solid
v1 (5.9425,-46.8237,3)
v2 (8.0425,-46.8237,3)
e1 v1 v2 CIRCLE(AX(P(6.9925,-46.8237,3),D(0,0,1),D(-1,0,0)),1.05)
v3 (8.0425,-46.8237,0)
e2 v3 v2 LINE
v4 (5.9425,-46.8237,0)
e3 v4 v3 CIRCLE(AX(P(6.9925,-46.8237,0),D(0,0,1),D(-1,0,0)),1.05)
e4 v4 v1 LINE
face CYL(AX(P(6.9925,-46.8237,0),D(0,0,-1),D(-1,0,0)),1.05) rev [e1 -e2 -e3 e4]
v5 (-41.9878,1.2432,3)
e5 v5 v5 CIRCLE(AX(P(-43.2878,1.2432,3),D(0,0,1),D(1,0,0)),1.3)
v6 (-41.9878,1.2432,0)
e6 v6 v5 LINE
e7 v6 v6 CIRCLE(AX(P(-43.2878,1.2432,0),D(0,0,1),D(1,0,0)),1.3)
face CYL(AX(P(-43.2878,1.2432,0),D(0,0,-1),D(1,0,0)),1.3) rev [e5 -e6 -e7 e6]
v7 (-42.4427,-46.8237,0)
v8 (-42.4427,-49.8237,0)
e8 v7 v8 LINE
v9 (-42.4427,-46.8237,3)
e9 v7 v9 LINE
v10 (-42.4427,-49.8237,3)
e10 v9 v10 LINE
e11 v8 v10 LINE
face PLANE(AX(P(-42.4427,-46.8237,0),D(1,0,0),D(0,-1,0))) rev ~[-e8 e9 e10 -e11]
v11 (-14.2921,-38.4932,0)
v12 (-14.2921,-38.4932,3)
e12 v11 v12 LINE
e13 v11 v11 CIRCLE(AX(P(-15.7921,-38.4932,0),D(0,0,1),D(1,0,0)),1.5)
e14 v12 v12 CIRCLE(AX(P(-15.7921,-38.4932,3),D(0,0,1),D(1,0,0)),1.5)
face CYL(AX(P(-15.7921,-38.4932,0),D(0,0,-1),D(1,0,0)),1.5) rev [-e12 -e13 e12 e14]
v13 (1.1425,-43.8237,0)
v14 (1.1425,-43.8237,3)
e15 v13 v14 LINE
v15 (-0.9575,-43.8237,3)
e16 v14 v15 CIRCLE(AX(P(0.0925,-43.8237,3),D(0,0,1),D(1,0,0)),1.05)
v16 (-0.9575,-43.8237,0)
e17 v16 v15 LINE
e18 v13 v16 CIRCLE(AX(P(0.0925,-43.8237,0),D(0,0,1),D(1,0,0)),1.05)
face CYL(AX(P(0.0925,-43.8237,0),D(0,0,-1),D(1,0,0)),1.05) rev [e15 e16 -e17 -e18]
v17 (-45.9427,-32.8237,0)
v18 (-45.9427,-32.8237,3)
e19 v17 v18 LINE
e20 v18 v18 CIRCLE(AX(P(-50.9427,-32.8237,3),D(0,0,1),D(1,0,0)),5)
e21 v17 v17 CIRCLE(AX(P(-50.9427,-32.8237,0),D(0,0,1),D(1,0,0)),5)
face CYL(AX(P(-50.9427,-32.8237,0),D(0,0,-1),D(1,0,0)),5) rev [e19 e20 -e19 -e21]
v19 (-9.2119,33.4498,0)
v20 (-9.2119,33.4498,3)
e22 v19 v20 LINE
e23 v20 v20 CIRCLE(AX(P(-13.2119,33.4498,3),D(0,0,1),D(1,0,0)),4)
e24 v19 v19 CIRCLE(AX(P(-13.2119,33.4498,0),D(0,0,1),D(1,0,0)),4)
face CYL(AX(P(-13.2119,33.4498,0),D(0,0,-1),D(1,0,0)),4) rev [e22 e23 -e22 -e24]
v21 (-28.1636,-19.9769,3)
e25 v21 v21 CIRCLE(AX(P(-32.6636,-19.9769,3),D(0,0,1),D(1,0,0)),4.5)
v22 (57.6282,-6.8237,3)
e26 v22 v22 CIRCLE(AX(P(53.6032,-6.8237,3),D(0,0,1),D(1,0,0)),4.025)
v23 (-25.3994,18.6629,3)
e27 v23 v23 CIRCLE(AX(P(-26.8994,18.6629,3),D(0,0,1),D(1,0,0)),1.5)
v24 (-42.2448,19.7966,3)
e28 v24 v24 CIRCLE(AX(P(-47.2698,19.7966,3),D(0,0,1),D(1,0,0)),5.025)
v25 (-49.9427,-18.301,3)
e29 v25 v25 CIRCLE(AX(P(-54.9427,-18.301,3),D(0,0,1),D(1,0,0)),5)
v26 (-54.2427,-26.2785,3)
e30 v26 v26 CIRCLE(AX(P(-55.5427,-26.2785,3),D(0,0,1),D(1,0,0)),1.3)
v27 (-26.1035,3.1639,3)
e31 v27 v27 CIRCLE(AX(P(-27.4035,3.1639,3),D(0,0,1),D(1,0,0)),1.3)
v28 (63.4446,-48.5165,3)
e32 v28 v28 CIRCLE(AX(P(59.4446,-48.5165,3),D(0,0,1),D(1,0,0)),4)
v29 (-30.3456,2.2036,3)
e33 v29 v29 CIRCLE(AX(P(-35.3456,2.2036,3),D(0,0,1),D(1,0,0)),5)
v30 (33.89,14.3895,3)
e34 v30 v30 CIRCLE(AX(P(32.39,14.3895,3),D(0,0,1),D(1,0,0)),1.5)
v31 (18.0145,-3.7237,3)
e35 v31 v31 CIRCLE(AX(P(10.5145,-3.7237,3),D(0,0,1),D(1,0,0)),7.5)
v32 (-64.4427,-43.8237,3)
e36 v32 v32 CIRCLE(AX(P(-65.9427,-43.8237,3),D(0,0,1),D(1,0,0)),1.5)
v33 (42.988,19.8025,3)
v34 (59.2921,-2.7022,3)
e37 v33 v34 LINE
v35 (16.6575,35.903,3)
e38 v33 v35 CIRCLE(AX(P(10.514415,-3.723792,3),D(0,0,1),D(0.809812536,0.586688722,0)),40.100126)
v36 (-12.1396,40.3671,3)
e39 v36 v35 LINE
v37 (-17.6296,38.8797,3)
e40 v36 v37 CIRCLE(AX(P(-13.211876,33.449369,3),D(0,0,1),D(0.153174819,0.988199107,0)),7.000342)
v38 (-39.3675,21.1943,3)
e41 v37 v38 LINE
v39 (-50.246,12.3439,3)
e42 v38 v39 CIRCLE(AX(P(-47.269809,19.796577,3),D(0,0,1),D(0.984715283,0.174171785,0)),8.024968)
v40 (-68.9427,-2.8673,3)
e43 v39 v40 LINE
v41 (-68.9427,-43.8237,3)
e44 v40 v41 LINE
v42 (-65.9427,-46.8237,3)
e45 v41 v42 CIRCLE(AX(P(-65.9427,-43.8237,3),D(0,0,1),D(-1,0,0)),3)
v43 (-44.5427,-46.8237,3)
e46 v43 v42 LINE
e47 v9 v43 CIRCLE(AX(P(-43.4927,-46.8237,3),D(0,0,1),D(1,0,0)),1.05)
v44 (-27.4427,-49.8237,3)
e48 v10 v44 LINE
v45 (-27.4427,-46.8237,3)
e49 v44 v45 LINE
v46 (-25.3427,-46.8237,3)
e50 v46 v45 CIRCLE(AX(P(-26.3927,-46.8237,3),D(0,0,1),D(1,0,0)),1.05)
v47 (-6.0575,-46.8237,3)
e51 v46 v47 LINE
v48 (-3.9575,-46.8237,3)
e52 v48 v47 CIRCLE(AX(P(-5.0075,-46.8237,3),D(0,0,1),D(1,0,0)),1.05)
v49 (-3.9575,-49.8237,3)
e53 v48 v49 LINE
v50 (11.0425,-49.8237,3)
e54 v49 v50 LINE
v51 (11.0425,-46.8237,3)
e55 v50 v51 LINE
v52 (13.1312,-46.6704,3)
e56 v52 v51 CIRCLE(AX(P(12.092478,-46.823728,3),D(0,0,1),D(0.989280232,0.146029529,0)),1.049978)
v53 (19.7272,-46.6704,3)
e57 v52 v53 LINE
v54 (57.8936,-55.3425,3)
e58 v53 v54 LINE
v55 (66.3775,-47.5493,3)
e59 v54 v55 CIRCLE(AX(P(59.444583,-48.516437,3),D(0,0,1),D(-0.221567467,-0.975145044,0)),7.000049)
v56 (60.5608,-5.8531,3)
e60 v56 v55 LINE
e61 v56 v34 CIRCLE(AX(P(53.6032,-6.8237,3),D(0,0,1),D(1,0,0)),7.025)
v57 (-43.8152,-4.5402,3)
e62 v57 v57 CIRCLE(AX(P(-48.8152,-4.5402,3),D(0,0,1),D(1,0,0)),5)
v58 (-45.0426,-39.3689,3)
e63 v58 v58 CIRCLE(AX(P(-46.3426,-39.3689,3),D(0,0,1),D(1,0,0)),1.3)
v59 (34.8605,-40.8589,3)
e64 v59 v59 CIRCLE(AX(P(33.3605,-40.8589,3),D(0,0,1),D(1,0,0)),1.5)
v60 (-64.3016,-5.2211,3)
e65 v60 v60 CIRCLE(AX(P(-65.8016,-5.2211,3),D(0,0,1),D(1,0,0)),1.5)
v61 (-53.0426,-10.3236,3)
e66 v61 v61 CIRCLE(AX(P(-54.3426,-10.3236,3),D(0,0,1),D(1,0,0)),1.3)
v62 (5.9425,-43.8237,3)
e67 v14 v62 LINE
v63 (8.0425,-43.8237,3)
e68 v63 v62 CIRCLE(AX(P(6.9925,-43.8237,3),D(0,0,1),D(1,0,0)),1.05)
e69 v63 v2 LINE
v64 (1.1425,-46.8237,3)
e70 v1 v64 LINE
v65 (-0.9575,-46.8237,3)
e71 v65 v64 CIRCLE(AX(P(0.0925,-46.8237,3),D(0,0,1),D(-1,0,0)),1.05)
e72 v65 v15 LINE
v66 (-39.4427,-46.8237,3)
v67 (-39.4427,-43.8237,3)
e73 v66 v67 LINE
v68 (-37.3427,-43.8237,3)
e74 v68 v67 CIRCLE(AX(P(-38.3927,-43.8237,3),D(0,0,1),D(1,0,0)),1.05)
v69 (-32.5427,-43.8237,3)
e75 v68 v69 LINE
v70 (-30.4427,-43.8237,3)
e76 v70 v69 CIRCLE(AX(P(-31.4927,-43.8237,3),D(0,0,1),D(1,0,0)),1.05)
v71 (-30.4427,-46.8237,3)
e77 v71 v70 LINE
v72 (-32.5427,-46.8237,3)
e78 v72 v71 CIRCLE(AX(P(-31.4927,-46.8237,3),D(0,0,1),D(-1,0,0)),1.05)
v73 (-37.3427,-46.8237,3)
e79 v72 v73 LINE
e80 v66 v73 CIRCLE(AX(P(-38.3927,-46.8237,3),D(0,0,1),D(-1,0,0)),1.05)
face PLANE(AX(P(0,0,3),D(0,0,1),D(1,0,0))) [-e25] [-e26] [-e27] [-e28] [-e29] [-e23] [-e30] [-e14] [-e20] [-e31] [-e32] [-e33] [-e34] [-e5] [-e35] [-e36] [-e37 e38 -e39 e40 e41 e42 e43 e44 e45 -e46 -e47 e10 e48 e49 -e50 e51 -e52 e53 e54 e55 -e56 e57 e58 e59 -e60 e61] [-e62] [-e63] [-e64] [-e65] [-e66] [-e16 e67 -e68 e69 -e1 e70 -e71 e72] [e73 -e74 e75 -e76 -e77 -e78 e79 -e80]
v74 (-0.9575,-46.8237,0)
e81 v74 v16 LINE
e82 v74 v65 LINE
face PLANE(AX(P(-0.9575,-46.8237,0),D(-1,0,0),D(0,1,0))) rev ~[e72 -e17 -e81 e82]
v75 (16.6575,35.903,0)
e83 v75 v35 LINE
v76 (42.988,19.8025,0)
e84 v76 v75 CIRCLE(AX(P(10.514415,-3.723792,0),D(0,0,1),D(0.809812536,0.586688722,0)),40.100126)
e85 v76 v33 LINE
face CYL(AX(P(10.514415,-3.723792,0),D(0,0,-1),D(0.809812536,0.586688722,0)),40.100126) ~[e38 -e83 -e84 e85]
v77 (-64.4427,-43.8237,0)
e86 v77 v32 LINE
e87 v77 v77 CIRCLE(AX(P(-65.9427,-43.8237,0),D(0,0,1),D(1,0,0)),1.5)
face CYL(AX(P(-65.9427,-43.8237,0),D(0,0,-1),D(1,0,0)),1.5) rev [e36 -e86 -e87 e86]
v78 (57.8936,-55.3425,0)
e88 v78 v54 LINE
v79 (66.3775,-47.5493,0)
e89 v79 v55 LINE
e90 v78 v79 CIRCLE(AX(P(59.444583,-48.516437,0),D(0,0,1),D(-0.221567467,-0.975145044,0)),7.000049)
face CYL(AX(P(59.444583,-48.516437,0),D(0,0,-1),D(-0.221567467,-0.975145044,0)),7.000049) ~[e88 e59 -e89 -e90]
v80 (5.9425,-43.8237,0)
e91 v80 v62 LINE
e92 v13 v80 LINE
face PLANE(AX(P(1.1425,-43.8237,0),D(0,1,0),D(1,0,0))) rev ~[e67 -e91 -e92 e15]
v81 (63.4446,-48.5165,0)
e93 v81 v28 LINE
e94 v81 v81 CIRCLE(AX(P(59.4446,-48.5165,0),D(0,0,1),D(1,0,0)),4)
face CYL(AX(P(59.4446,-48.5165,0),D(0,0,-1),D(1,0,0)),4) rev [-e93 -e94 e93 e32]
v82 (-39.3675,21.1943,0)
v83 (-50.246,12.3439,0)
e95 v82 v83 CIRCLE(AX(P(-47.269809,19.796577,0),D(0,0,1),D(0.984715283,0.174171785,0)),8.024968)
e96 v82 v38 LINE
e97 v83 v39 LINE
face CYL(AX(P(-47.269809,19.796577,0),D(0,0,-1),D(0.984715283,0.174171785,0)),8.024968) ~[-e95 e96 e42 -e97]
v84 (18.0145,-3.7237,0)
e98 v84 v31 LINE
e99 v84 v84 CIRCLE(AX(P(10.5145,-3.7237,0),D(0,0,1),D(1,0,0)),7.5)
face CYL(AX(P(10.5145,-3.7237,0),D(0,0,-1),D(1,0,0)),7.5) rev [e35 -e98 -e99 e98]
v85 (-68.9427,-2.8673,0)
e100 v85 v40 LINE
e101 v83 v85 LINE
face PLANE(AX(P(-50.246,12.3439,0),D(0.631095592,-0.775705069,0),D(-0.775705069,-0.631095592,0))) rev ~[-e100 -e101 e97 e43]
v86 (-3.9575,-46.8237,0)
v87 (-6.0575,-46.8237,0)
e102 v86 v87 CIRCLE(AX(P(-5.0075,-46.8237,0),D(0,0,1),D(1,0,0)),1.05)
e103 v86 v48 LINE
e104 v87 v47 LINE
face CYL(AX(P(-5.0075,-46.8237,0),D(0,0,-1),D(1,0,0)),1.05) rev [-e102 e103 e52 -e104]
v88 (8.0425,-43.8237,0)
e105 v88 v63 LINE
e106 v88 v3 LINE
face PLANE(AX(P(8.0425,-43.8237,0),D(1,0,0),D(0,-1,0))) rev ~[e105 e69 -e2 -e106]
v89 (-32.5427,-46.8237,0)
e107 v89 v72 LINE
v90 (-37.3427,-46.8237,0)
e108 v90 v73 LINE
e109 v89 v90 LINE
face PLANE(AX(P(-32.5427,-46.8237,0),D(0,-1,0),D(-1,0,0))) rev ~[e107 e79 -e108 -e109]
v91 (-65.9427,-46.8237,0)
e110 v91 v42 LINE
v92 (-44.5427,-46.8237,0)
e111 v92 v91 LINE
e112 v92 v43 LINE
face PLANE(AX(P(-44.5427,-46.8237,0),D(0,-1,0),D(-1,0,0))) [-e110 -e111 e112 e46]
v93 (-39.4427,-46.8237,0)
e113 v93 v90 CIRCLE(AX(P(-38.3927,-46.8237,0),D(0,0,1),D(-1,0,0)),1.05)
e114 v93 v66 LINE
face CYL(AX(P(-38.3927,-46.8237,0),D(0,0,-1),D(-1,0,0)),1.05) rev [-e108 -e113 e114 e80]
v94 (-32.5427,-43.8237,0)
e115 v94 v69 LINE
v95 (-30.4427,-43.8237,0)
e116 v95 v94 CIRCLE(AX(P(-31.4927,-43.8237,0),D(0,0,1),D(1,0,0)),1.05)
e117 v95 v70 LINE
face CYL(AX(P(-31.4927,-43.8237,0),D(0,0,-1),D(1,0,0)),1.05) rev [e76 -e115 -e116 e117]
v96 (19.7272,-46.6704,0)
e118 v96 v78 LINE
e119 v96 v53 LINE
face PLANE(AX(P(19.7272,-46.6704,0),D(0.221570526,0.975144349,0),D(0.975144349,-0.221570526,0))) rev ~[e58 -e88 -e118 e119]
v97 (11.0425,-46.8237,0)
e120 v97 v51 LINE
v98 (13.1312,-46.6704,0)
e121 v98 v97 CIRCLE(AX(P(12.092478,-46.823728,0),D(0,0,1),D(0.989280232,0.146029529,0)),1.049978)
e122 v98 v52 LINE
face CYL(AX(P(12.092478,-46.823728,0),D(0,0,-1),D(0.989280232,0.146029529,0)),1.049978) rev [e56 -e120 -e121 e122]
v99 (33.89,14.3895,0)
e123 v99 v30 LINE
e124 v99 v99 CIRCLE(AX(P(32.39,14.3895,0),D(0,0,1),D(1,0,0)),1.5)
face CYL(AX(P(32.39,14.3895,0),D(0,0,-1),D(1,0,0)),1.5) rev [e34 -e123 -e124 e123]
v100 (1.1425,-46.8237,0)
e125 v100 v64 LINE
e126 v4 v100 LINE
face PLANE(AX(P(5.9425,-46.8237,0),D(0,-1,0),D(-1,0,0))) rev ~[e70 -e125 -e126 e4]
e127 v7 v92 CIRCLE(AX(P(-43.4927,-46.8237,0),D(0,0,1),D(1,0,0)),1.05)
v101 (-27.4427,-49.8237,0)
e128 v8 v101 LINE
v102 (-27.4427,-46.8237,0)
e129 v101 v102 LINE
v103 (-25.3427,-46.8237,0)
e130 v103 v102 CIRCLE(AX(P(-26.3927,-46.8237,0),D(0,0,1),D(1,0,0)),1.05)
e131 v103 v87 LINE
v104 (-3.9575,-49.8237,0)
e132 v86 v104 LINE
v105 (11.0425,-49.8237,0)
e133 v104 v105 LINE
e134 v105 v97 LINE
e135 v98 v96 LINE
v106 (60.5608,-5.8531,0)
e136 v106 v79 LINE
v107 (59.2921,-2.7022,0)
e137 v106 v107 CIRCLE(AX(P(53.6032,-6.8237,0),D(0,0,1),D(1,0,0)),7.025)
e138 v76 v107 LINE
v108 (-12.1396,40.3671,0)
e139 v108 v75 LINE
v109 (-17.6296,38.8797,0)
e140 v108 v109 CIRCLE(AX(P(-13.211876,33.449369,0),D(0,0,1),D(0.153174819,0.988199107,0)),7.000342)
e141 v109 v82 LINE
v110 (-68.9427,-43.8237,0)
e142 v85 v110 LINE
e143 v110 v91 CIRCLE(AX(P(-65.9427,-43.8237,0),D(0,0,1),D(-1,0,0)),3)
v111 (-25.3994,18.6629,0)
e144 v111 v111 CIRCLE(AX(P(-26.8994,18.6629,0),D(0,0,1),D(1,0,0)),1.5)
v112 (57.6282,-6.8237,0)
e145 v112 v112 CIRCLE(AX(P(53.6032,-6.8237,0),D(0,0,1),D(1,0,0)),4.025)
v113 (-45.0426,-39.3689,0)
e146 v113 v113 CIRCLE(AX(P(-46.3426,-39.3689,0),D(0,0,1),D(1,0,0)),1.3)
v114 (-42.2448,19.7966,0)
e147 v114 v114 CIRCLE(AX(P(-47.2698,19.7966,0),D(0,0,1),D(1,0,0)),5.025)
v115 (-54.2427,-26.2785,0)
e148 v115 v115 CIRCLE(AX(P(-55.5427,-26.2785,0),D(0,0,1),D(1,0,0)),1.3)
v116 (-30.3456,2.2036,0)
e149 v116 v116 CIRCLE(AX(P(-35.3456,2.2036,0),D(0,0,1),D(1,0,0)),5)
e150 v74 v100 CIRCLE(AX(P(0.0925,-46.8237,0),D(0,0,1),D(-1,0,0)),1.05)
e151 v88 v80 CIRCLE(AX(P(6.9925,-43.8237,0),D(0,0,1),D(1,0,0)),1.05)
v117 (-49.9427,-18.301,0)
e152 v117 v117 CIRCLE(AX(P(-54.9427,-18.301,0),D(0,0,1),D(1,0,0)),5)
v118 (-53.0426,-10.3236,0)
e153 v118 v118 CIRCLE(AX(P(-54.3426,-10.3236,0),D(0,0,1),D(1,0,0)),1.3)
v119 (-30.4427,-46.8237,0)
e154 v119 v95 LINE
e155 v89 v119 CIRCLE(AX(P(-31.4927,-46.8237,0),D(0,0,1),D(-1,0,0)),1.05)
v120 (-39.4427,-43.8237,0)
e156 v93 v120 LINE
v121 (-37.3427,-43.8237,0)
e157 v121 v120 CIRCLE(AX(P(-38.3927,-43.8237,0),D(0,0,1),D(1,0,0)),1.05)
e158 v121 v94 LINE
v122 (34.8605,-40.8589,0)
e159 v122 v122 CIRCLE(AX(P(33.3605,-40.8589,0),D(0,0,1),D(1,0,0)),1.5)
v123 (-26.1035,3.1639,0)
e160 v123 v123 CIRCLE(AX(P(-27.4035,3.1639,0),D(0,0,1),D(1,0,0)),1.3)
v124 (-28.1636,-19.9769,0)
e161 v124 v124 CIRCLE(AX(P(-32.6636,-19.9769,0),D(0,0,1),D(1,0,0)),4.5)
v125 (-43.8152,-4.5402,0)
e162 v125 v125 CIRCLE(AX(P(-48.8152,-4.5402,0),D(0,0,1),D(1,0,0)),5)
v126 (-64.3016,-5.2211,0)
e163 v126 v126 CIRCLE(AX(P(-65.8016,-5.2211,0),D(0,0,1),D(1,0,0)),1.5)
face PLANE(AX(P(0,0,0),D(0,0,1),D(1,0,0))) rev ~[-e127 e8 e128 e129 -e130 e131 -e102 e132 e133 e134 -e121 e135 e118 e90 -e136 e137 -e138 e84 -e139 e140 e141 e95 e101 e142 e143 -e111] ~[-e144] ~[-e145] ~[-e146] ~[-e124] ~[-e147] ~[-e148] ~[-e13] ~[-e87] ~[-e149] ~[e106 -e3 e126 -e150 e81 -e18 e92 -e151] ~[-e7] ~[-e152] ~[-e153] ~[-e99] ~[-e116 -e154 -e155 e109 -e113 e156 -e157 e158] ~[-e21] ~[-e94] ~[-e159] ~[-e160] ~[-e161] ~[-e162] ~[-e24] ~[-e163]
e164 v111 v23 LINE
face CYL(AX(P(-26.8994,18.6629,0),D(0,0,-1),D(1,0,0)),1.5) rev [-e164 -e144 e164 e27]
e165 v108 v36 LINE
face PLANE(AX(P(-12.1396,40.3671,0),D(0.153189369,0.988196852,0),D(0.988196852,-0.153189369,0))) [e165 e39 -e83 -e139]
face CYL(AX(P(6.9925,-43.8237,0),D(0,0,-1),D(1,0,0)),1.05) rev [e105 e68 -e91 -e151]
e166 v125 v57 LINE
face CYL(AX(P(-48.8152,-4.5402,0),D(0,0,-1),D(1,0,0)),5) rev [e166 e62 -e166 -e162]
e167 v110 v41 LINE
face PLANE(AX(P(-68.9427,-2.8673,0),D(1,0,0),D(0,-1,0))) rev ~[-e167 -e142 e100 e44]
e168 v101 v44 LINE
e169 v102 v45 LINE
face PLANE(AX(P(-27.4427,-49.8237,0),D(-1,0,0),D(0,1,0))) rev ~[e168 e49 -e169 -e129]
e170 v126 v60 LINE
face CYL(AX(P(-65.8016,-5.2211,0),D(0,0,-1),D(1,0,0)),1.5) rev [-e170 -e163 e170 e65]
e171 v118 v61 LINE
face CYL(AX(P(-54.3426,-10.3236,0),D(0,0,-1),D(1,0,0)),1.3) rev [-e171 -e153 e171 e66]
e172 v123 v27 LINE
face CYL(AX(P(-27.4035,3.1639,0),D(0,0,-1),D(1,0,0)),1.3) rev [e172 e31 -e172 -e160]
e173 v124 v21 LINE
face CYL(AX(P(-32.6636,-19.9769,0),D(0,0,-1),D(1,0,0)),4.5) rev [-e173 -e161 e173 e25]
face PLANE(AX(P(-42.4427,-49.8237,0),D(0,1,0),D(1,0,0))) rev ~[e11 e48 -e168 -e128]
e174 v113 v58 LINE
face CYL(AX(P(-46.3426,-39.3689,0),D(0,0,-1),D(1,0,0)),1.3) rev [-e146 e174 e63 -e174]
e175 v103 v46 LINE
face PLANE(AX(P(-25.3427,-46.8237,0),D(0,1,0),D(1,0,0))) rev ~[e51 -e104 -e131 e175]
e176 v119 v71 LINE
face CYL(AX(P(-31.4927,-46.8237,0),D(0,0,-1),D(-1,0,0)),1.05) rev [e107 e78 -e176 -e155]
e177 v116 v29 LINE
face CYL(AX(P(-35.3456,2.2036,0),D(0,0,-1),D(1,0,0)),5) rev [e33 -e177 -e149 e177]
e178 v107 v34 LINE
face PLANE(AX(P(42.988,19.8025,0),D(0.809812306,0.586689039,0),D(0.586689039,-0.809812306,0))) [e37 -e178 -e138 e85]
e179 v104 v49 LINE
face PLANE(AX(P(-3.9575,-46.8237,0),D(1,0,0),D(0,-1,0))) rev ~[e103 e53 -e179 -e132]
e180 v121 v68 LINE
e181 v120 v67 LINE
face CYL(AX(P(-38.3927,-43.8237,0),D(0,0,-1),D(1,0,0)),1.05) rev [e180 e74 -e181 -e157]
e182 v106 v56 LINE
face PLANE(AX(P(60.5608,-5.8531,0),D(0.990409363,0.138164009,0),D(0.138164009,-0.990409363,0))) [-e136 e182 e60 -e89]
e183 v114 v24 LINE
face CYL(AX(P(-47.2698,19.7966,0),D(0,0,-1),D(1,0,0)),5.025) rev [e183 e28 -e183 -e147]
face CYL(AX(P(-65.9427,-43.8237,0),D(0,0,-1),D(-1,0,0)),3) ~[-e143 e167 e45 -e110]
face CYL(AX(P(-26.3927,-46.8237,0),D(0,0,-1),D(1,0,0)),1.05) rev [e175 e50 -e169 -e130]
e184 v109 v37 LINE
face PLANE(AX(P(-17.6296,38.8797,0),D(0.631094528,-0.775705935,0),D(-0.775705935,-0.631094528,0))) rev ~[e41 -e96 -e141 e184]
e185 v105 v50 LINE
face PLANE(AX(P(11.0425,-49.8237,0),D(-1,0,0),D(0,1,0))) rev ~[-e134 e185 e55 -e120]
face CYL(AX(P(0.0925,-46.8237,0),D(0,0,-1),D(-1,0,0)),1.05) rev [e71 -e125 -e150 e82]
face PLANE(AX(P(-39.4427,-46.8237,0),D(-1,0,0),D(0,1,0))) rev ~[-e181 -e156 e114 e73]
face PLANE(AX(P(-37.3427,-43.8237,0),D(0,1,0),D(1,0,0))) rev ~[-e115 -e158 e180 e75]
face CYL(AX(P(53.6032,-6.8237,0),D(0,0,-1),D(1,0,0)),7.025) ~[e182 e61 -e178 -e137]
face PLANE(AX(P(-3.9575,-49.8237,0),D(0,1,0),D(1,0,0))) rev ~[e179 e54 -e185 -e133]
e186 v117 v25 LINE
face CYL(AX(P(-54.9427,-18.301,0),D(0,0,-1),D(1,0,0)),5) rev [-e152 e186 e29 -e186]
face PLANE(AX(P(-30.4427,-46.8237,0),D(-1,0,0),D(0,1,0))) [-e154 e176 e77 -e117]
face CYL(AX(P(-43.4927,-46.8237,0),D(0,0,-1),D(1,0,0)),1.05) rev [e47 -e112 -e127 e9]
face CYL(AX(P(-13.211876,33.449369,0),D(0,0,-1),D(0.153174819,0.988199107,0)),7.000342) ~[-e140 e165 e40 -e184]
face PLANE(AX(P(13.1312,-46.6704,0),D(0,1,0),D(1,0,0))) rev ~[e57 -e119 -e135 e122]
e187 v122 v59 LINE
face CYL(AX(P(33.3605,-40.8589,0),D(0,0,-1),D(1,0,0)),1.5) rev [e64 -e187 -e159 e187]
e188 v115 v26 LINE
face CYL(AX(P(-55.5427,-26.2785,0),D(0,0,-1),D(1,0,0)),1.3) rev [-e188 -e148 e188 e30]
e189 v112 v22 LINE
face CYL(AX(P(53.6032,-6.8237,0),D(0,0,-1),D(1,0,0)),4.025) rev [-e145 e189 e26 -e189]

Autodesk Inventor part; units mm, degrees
ref_plane "YZ Plane" through (0, 0, 0) normal (1, 0, 0) x (0, 1, 0)
ref_plane "XZ Plane" through (0, 0, 0) normal (0, 1, 0) x (-1, 0, 0)
ref_plane "XY Plane" through (0, 0, 0) normal (0, 0, 1) x (1, 0, 0)
sketch "スケッチ1" plane through (0, 0, 0) normal (0, 0, 1) x (1, 0, 0)
  circle A0 centre (-22.9427, -32.8237) radius 14
  circle A1 centre (5.0573, -32.8237) radius 14
  line L0 (-174.7493, -46.8237) -> (173.7138, -46.8237)
  line L1 (-168.9427, 85.6498) -> (-168.9427, -143.3841)
  line L2 (181.0573, 70.1234) -> (181.0573, -176.3692)
  line L3 (-68.9427, 93.6608) -> (-68.9427, -144.401)
  circle A2 centre (-138.9427, -9.8237) radius 4.5
  circle A3 centre (-32.6636, -19.9769) radius 20.05
  circle A4 centre (-50.9427, -32.8237) radius 14
  circle A5 centre (-48.8152, -4.5402) radius 14
  circle A6 centre (-32.6636, -19.9769) radius 9.0359
  circle A7 centre (10.5145, -3.7237) radius 37.1
  circle A8 centre (-48.8152, -4.5402) radius 2.292
  circle A9 centre (-48.8152, -4.5402) radius 2.792
  circle A10 centre (10.5145, -3.7237) radius 39.1
  circle A11 centre (53.6032, -6.8237) radius 33.1
  circle A12 centre (53.6032, -6.8237) radius 35.1
  line L4 (-120.6193, -91.8237) -> (100.4081, -91.8237)
  circle A13 centre (10.5145, -3.7237) radius 10.1
  circle A14 centre (10.5145, -3.7237) radius 12.1
  circle A15 centre (-32.6636, -19.9769) radius 20.55
  line L5 (53.6032, -6.8237) -> (32.39, 14.3895)
  line L6 (53.6032, -6.8237) -> (97.5006, -47.7262)
  line L7 (97.5006, -47.7262) -> (57.2048, -10.293)
  line L8 (57.2048, -10.293) -> (32.39, 14.3895)
  circle A16 centre (32.39, 14.3895) radius 1.5
  circle A17 centre (32.39, 14.3895) radius 4.5
  circle A18 centre (-54.9427, -18.301) radius 14
  circle A19 centre (-35.3456, 2.2036) radius 14
  circle A20 centre (-50.9427, -32.8237) radius 5
  circle A21 centre (-54.9427, -18.301) radius 5
  circle A22 centre (-48.8152, -4.5402) radius 5
  circle A23 centre (-35.3456, 2.2036) radius 5
  circle A24 centre (-32.6636, -19.9769) radius 22.342 construction
  line L9 (-43.4189, -43.5289) -> (-55.5427, -26.2785) construction
  line L10 (-55.5427, -26.2785) -> (-54.3426, -10.3236) construction
  line L11 (-54.3426, -10.3236) -> (-43.2878, 1.2432) construction
  line L12 (-43.2878, 1.2432) -> (-22.1495, 3.7992) construction
  circle A25 centre (-35.3456, 2.2036) radius 8
  circle A26 centre (-48.8152, -4.5402) radius 8
  circle A27 centre (-54.9427, -18.301) radius 8
  circle A28 centre (-50.9427, -32.8237) radius 8
  circle A29 centre (-46.3426, -39.3689) radius 1.3
  circle A30 centre (-55.5427, -26.2785) radius 1.3
  circle A31 centre (-54.3426, -10.3236) radius 1.3
  circle A32 centre (-43.2878, 1.2432) radius 1.3
  circle A33 centre (-27.4035, 3.1639) radius 1.3
  circle A34 centre (-35.3456, 2.2036) radius 5.5 construction
  line L13 (-89.4402, -42.8237) -> (131.6872, -42.8237)
  circle A35 centre (53.6032, -6.8237) radius 3
  circle A36 centre (97.5006, -47.7262) radius 7.025
  circle A37 centre (97.5006, -47.7262) radius 10.025
  circle A38 centre (57.2048, -10.293) radius 5
  line L14 (60.2589, -6.3341) -> (103.6241, -39.7887)
  line L15 (90.035, -54.4169) -> (53.4813, -13.63)
  point P0 (0, 0)
  point P1 (0, 0)
  point P2 (0, 0)
  dimension "d0" = 350
  dimension "d1" = 100
  dimension "d2" = 30
  dimension "d3" = 40.1
  dimension "d4" = 28
  dimension "d5" = 28
  dimension "d6" = 22.342
  dimension "d7" = 22.342
  dimension "d9" = 74.2
  dimension "d10" = 0.5
  dimension "d11" = 2
  dimension "d13" = 66.2
  dimension "d14" = 2
  dimension "d15" = 45
  dimension "d16" = 85
  dimension "d17" = 2
  dimension "d18" = 0.5
  dimension "d19" = 30
  dimension "d20" = 60
  dimension "d21" = 55
  dimension "d22" = 35
  dimension "d23" = 45
  dimension "d24" = 3
  dimension "d25" = 3
  dimension "d26" = 28
  dimension "d27" = 28
  dimension "d28" = 22.342
  dimension "d29" = 22.342
  dimension "d30" = 10
  dimension "d31" = 10
  dimension "d32" = 10
  dimension "d33" = 10
  dimension "d34" = 3
  dimension "d35" = 3
  dimension "d36" = 3
  dimension "d37" = 3
  dimension "d38" = 2.6
  dimension "d39" = 2.6
  dimension "d40" = 2.6
  dimension "d41" = 2.6
  dimension "d42" = 2.6
  dimension "d43" = 11
  dimension "d44" = 20.2
  dimension "d45" = 4
  dimension "d46" = 6
  dimension "d48" = 46.1359
  dimension "d60" = 14.05
  dimension "d61" = 3
  dimension "d62" = 10
sketch "スケッチ2" plane through (0, 0, 0) normal (0, 0, 1) x (1, 0, 0)
  circle A0 centre (-47.2698, 19.7966) radius 5.025
  circle A1 centre (-64.0841, -20.5754) radius 1.5
  line L0 (-60.2999, -17.1214) -> (-60.1004, -16.784)
  arc A2 (-59.1969, -16.2937) -> (-60.1004, -16.784) centre (-59.2396, -17.2928) ccw
  arc A3 (-59.1969, -16.2937) -> (-55.0576, -13.6829) centre (-59.0136, -11.9976) ccw
  arc A4 (-54.227, -13.0788) -> (-55.0576, -13.6829) centre (-54.1376, -14.0748) ccw
  arc A5 (-54.227, -13.0788) -> (-49.4577, -10.9346) centre (-54.9427, -5.1109) ccw
  arc A6 (-48.2633, -10.8017) -> (-49.4577, -10.9346) centre (-48.7721, -11.6625) ccw
  line L1 (-48.2633, -10.8017) -> (-43.4665, -13.6371)
  arc A7 (-43.0029, -14.7312) -> (-43.4665, -13.6371) centre (-43.9754, -14.498) ccw
  arc A8 (-43.0029, -14.7312) -> (-42.2107, -20.2197) centre (-35.7096, -16.4799) ccw
  arc A9 (-42.346, -21.4001) -> (-42.2107, -20.2197) centre (-43.0775, -20.7183) ccw
  line L2 (-42.346, -21.4001) -> (-46.1452, -25.4763)
  arc A10 (-47.3285, -25.6866) -> (-46.1452, -25.4763) centre (-46.8767, -24.7945) ccw
  arc A11 (-47.3285, -25.6866) -> (-52.5094, -24.9786) centre (-50.9427, -32.8237) ccw
  arc A12 (-53.4769, -24.634) -> (-52.5094, -24.9786) centre (-52.7053, -23.998) ccw
  arc A13 (-53.4769, -24.634) -> (-58.1856, -23.3003) centre (-56.7949, -27.3692) ccw
  arc A14 (-59.1909, -23.0856) -> (-58.1856, -23.3003) centre (-58.509, -22.354) ccw
  line L3 (-59.1909, -23.0856) -> (-59.4776, -22.8183)
  arc A15 (-59.7573, -21.812) -> (-59.4776, -22.8183) centre (-58.7958, -22.0868) ccw
  arc A16 (-59.7573, -21.812) -> (-60.2836, -18.1658) centre (-64.0841, -20.5754) ccw
  arc A17 (-60.2999, -17.1214) -> (-60.2836, -18.1658) centre (-59.439, -17.6303) ccw
  line L4 (-59.6973, -41.892) -> (-56.6977, -39.4479)
  arc A18 (-55.4968, -39.4009) -> (-56.6977, -39.4479) centre (-56.066, -40.2231) ccw
  arc A19 (-55.4968, -39.4009) -> (-49.3759, -40.6688) centre (-50.9427, -32.8237) ccw
  arc A20 (-48.4085, -41.0133) -> (-49.3759, -40.6688) centre (-49.1801, -41.6494) ccw
  arc A21 (-48.4085, -41.0133) -> (-47.3017, -41.966) centre (-45.0905, -38.2782) ccw
  arc A22 (-47.816, -43.8237) -> (-47.3017, -41.966) centre (-47.816, -42.8237) ccw
  line L5 (-47.816, -43.8237) -> (-59.0344, -43.8237)
  arc A23 (-60.0177, -43.0055) -> (-59.0344, -43.8237) centre (-59.0344, -42.8237) ccw
  arc A24 (-60.0177, -43.0055) -> (-60.0433, -42.8775) centre (-64.4427, -43.8237) ccw
  arc A25 (-59.6973, -41.892) -> (-60.0433, -42.8775) centre (-59.0656, -42.6672) ccw
  circle A26 centre (-64.4427, 8.987) radius 1.5
  line L6 (-18.7729, 14.1262) -> (-22.731, 11.1451)
  arc A27 (-23.9329, 11.144) -> (-22.731, 11.1451) centre (-23.3326, 11.9439) ccw
  arc A28 (-23.9329, 11.144) -> (-33.4471, 11.2103) centre (-28.7348, 4.7455) ccw
  arc A29 (-34.4699, 11.1174) -> (-33.4471, 11.2103) centre (-34.0361, 12.0184) ccw
  arc A30 (-34.4699, 11.1174) -> (-39.3039, 10.3536) centre (-36.335, 7.243) ccw
  arc A31 (-40.3065, 10.1269) -> (-39.3039, 10.3536) centre (-39.9943, 11.077) ccw
  line L7 (-40.3065, 10.1269) -> (-40.6789, 10.2493)
  arc A32 (-41.3548, 11.0456) -> (-40.6789, 10.2493) centre (-40.3667, 11.1993) ccw
  arc A33 (-41.3548, 11.0456) -> (-41.5389, 11.7966) centre (-45.8013, 10.3537) ccw
  arc A34 (-40.8249, 13.0896) -> (-41.5389, 11.7966) centre (-40.5917, 12.1172) ccw
  line L8 (-40.8249, 13.0896) -> (-19.5219, 18.1985)
  arc A35 (-18.3194, 16.9804) -> (-19.5219, 18.1985) centre (-19.2887, 17.226) ccw
  arc A36 (-18.3194, 16.9804) -> (-18.3895, 15.0977) centre (-13.9572, 15.8752) ccw
  arc A37 (-18.7729, 14.1262) -> (-18.3895, 15.0977) centre (-19.3745, 14.925) ccw
  circle A38 centre (-13.9572, 15.8752) radius 1.5
  circle A39 centre (21.0458, -37.8866) radius 1.5
  circle A40 centre (30.9378, -6.8237) radius 4.025
  circle A41 centre (-45.0905, -38.2782) radius 1.3
  circle A42 centre (-21.1346, 2.248) radius 1.3
  circle A43 centre (-50.8718, 1.7759) radius 1.3
  arc A44 (-24.4868, -35.136) -> (-25.456, -34.9678) centre (-25.7365, -39.459) ccw
  arc A45 (-26.3109, -34.3678) -> (-25.456, -34.9678) centre (-25.3936, -33.9697) ccw
  line L9 (-26.3109, -34.3678) -> (-31.0992, -23.3351)
  arc A46 (-30.8322, -22.1773) -> (-31.0992, -23.3351) centre (-30.1819, -22.937) ccw
  arc A47 (-30.8322, -22.1773) -> (-28.4693, -18.4362) centre (-35.7096, -16.4799) ccw
  arc A48 (-27.5385, -17.6976) -> (-28.4693, -18.4362) centre (-27.5039, -18.697) ccw
  line L10 (-27.5385, -17.6976) -> (-14.2955, -17.2386)
  arc A49 (-13.2929, -17.9869) -> (-14.2955, -17.2386) centre (-14.2608, -18.238) ccw
  arc A50 (-13.2929, -17.9869) -> (-11.8048, -21.2653) centre (-3.1292, -15.3507) ccw
  arc A51 (-11.9016, -22.5127) -> (-11.8048, -21.2653) centre (-12.6311, -21.8286) ccw
  line L11 (-11.9016, -22.5127) -> (-23.4796, -34.8594)
  arc A52 (-24.4868, -35.136) -> (-23.4796, -34.8594) centre (-24.2091, -34.1754) ccw
  arc A53 (-29.2087, -36.5965) -> (-30.2266, -39.7574) centre (-25.7365, -39.459) ccw
  arc A54 (-31.2244, -40.8237) -> (-30.2266, -39.7574) centre (-31.2244, -39.8237) ccw
  line L12 (-31.2244, -40.8237) -> (-40.0208, -40.8237)
  arc A55 (-40.9773, -39.5321) -> (-40.0208, -40.8237) centre (-40.0208, -39.8237) ccw
  arc A56 (-40.9773, -39.5321) -> (-42.5952, -34.7762) centre (-45.0905, -38.2782) ccw
  arc A57 (-43.0069, -33.8353) -> (-42.5952, -34.7762) centre (-42.0149, -33.9618) ccw
  arc A58 (-43.0069, -33.8353) -> (-44.0772, -28.7169) centre (-50.9427, -32.8237) ccw
  arc A59 (-43.9506, -27.5218) -> (-44.0772, -28.7169) centre (-43.219, -28.2036) ccw
  line L13 (-43.9506, -27.5218) -> (-40.1514, -23.4456)
  arc A60 (-38.9834, -23.2277) -> (-40.1514, -23.4456) centre (-39.4199, -24.1274) ccw
  arc A61 (-38.9834, -23.2277) -> (-34.8793, -23.9338) centre (-35.7096, -16.4799) ccw
  arc A62 (-33.8512, -24.5295) -> (-34.8793, -23.9338) centre (-34.7685, -24.9276) ccw
  line L14 (-33.8512, -24.5295) -> (-29.0629, -35.5622)
  arc A63 (-29.2087, -36.5965) -> (-29.0629, -35.5622) centre (-29.9803, -35.9603) ccw
  circle A64 centre (-25.7365, -39.459) radius 1.5
  line L15 (2.7111, -40.8237) -> (-3.9575, -40.8237)
  line L16 (-3.9575, -40.8237) -> (-3.9575, -42.8237)
  arc A65 (-4.9575, -43.8237) -> (-3.9575, -42.8237) centre (-4.9575, -42.8237) ccw
  line L17 (-4.9575, -43.8237) -> (-21.3858, -43.8237)
  arc A66 (-22.1768, -42.2119) -> (-21.3858, -43.8237) centre (-21.3858, -42.8237) ccw
  arc A67 (-22.1768, -42.2119) -> (-21.5027, -37.9343) centre (-25.7365, -39.459) ccw
  arc A68 (-21.2913, -36.9115) -> (-21.5027, -37.9343) centre (-20.5618, -37.5955) ccw
  line L18 (-21.2913, -36.9115) -> (-9.7133, -24.5648)
  arc A69 (-8.4747, -24.3881) -> (-9.7133, -24.5648) centre (-8.9838, -25.2488) ccw
  arc A70 (-8.4747, -24.3881) -> (-1.928, -25.7817) centre (-3.1292, -15.3507) ccw
  arc A71 (-0.8688, -26.4475) -> (-1.928, -25.7817) centre (-1.8136, -26.7752) ccw
  line L19 (-0.8688, -26.4475) -> (3.6559, -39.4961)
  arc A72 (2.7111, -40.8237) -> (3.6559, -39.4961) centre (2.7111, -39.8237) ccw
  line L20 (-59.0898, 10.8835) -> (-51.3735, 11.4492)
  arc A73 (-50.3006, 10.434) -> (-51.3735, 11.4492) centre (-51.3004, 10.4518) ccw
  arc A74 (-50.3006, 10.434) -> (-49.6018, 7.944) centre (-45.8013, 10.3537) ccw
  arc A75 (-49.5855, 6.8997) -> (-49.6018, 7.944) centre (-50.4463, 7.4085) ccw
  line L21 (-49.5855, 6.8997) -> (-49.785, 6.5622)
  arc A76 (-50.6884, 6.072) -> (-49.785, 6.5622) centre (-50.6458, 7.0711) ccw
  arc A77 (-50.6884, 6.072) -> (-54.8278, 3.4611) centre (-50.8718, 1.7759) ccw
  arc A78 (-55.6583, 2.8571) -> (-54.8278, 3.4611) centre (-55.7478, 3.853) ccw
  arc A79 (-55.6583, 2.8571) -> (-57.3945, 2.5042) centre (-54.9427, -5.1109) ccw
  arc A80 (-58.5302, 2.8972) -> (-57.3945, 2.5042) centre (-57.7009, 3.456) ccw
  line L22 (-58.5302, 2.8972) -> (-60.4611, 5.7626)
  arc A81 (-60.5065, 6.8061) -> (-60.4611, 5.7626) centre (-59.6318, 6.3214) ccw
  arc A82 (-60.5065, 6.8061) -> (-60.0032, 9.7227) centre (-64.4427, 8.987) ccw
  arc A83 (-59.0898, 10.8835) -> (-60.0032, 9.7227) centre (-59.0167, 9.8861) ccw
  line L23 (-41.6154, 7.3992) -> (-41.243, 7.2769)
  arc A84 (-40.5703, 6.4997) -> (-41.243, 7.2769) centre (-41.5552, 6.3268) ccw
  arc A85 (-40.5703, 6.4997) -> (-37.1316, 3.0174) centre (-36.335, 7.243) ccw
  arc A86 (-36.3633, 2.3359) -> (-37.1316, 3.0174) centre (-37.3169, 2.0347) ccw
  arc A87 (-36.3633, 2.3359) -> (-33.2452, -1.8618) centre (-28.7348, 4.7455) ccw
  arc A88 (-32.8589, -2.9999) -> (-33.2452, -1.8618) centre (-33.809, -2.6878) ccw
  line L24 (-32.8589, -2.9999) -> (-34.5985, -8.2936)
  arc A89 (-35.5675, -8.9812) -> (-34.5985, -8.2936) centre (-35.5485, -7.9814) ccw
  arc A90 (-35.5675, -8.9812) -> (-40.7579, -10.9333) centre (-35.7096, -16.4799) ccw
  arc A91 (-41.9399, -11.0546) -> (-40.7579, -10.9333) centre (-41.431, -10.1938) ccw
  line L25 (-41.9399, -11.0546) -> (-46.7367, -8.2191)
  arc A92 (-47.1961, -7.1086) -> (-46.7367, -8.2191) centre (-46.2278, -7.3583) ccw
  arc A93 (-47.1961, -7.1086) -> (-47.6169, -1.8964) centre (-54.9427, -5.1109) ccw
  arc A94 (-47.4881, -0.8775) -> (-47.6169, -1.8964) centre (-46.7012, -1.4946) ccw
  arc A95 (-47.4881, -0.8775) -> (-47.1963, 4.0077) centre (-50.8718, 1.7759) ccw
  arc A96 (-47.2024, 5.0356) -> (-47.1963, 4.0077) centre (-46.3416, 4.5268) ccw
  line L26 (-47.2024, 5.0356) -> (-47.0029, 5.3731)
  arc A97 (-46.0801, 5.8623) -> (-47.0029, 5.3731) centre (-46.1421, 4.8642) ccw
  arc A98 (-46.0801, 5.8623) -> (-42.6319, 7.1591) centre (-45.8013, 10.3537) ccw
  arc A99 (-41.6154, 7.3992) -> (-42.6319, 7.1591) centre (-41.9276, 6.4492) ccw
  circle A100 centre (-45.8013, 10.3537) radius 1.5
  arc A101 (-63.8052, -16.084) -> (-64.7866, -16.1306) centre (-64.0841, -20.5754) ccw
  arc A102 (-65.9427, -15.1428) -> (-64.7866, -16.1306) centre (-64.9427, -15.1428) ccw
  line L27 (-65.9427, -15.1428) -> (-65.9427, 3.5098)
  arc A103 (-64.8518, 4.5056) -> (-65.9427, 3.5098) centre (-64.9427, 3.5098) ccw
  arc A104 (-64.8518, 4.5056) -> (-63.899, 4.52) centre (-64.4427, 8.987) ccw
  arc A105 (-62.9489, 4.0861) -> (-63.899, 4.52) centre (-63.7782, 3.5273) ccw
  line L28 (-62.9489, 4.0861) -> (-61.0181, 1.2208)
  arc A106 (-61.0802, 0.0205) -> (-61.0181, 1.2208) centre (-61.8474, 0.6619) ccw
  arc A107 (-61.0802, 0.0205) -> (-62.2685, -8.3253) centre (-54.9427, -5.1109) ccw
  arc A108 (-62.3973, -9.3442) -> (-62.2685, -8.3253) centre (-63.1842, -8.7272) ccw
  arc A109 (-62.3973, -9.3442) -> (-62.689, -14.2295) centre (-59.0136, -11.9976) ccw
  arc A110 (-62.683, -15.2574) -> (-62.689, -14.2295) centre (-63.5438, -14.7485) ccw
  line L29 (-62.683, -15.2574) -> (-62.8824, -15.5948)
  arc A111 (-63.8052, -16.084) -> (-62.8824, -15.5948) centre (-63.7433, -15.086) ccw
  arc A112 (-15.9284, 11.83) -> (-14.5765, 11.4181) centre (-13.9572, 15.8752) ccw
  arc A113 (-13.7694, 10.7552) -> (-14.5765, 11.4181) centre (-14.7142, 10.4276) ccw
  line L30 (-13.7694, 10.7552) -> (-8.224, -5.2367)
  arc A114 (-8.6436, -6.4153) -> (-8.224, -5.2367) centre (-9.1688, -5.5643) ccw
  arc A115 (-8.6436, -6.4153) -> (-13.451, -13.4244) centre (-3.1292, -15.3507) ccw
  arc A116 (-14.3994, -14.2404) -> (-13.451, -13.4244) centre (-14.434, -13.241) ccw
  line L31 (-14.3994, -14.2404) -> (-27.6424, -14.6994)
  arc A117 (-28.6221, -14.027) -> (-27.6424, -14.6994) centre (-27.6771, -13.7) ccw
  arc A118 (-28.6221, -14.027) -> (-31.3762, -10.3585) centre (-35.7096, -16.4799) ccw
  arc A119 (-31.7484, -9.2302) -> (-31.3762, -10.3585) centre (-30.7984, -9.5423) ccw
  line L32 (-31.7484, -9.2302) -> (-30.0089, -3.9365)
  arc A120 (-29.0228, -3.2493) -> (-30.0089, -3.9365) centre (-29.0588, -4.2487) ccw
  arc A121 (-29.0228, -3.2493) -> (-24.0225, -1.7194) centre (-28.7348, 4.7455) ccw
  arc A122 (-22.9997, -1.6264) -> (-24.0225, -1.7194) centre (-23.4335, -2.5275) ccw
  arc A123 (-22.9997, -1.6264) -> (-20.338, 6.4736) centre (-21.1346, 2.248) ccw
  arc A124 (-21.1063, 7.1551) -> (-20.338, 6.4736) centre (-20.1528, 7.4563) ccw
  arc A125 (-21.1063, 7.1551) -> (-21.2591, 7.5939) centre (-28.7348, 4.7455) ccw
  arc A126 (-20.9262, 8.7487) -> (-21.2591, 7.5939) centre (-20.3246, 7.9499) ccw
  line L33 (-20.9262, 8.7487) -> (-16.968, 11.7298)
  arc A127 (-15.9284, 11.83) -> (-16.968, 11.7298) centre (-16.3664, 10.931) ccw
  arc A128 (-62.6274, -39.7061) -> (-64.8518, -39.3423) centre (-64.4427, -43.8237) ccw
  arc A129 (-65.9427, -38.3465) -> (-64.8518, -39.3423) centre (-64.9427, -38.3465) ccw
  line L34 (-65.9427, -38.3465) -> (-65.9427, -26.008)
  arc A130 (-64.7866, -25.0202) -> (-65.9427, -26.008) centre (-64.9427, -26.008) ccw
  arc A131 (-64.7866, -25.0202) -> (-62.5465, -24.8046) centre (-64.0841, -20.5754) ccw
  arc A132 (-61.523, -25.0129) -> (-62.5465, -24.8046) centre (-62.2049, -25.7444) ccw
  line L35 (-61.523, -25.0129) -> (-61.2363, -25.2801)
  arc A133 (-60.9515, -26.2678) -> (-61.2363, -25.2801) centre (-61.9181, -26.0117) ccw
  arc A134 (-60.9515, -26.2678) -> (-59.2901, -30.8711) centre (-56.7949, -27.3692) ccw
  arc A135 (-58.8785, -31.812) -> (-59.2901, -30.8711) centre (-59.8704, -31.6856) ccw
  arc A136 (-58.8785, -31.812) -> (-58.3042, -35.9554) centre (-50.9427, -32.8237) ccw
  arc A137 (-58.5927, -37.1222) -> (-58.3042, -35.9554) centre (-59.2244, -36.3469) ccw
  line L36 (-58.5927, -37.1222) -> (-61.5923, -39.5663)
  arc A138 (-62.6274, -39.7061) -> (-61.5923, -39.5663) centre (-62.224, -38.791) ccw
  line L37 (7.0584, -40.1513) -> (1.9656, -25.4647)
  arc A139 (2.3852, -24.2861) -> (1.9656, -25.4647) centre (2.9104, -25.137) ccw
  arc A140 (2.3852, -24.2861) -> (4.4427, -22.6251) centre (-3.1292, -15.3507) ccw
  arc A141 (6.0061, -22.7788) -> (4.4427, -22.6251) centre (5.1638, -23.3179) ccw
  arc A142 (6.0061, -22.7788) -> (17.5142, -33.2048) centre (30.9378, -6.8237) ccw
  arc A143 (17.7852, -34.7853) -> (17.5142, -33.2048) centre (17.0607, -34.0961) ccw
  arc A144 (17.7852, -34.7853) -> (16.7058, -36.6975) centre (21.0458, -37.8866) ccw
  arc A145 (11.0425, -40.8237) -> (16.7058, -36.6975) centre (11.2898, -35.2135) ccw
  line L38 (11.0425, -40.8237) -> (8.0032, -40.8237)
  arc A146 (7.0584, -40.1513) -> (8.0032, -40.8237) centre (8.0032, -39.8237) ccw
  circle A147 centre (-64.4427, -43.8237) radius 1.5
  line L39 (-0.9575, -46.8237) -> (-0.9575, -43.8237)
  arc A148 (1.1425, -43.8237) -> (-0.9575, -43.8237) centre (0.0925, -43.8237) ccw
  line L40 (1.1425, -43.8237) -> (5.9425, -43.8237)
  arc A149 (8.0425, -43.8237) -> (5.9425, -43.8237) centre (6.9925, -43.8237) ccw
  line L41 (8.0425, -43.8237) -> (8.0425, -46.8237)
  arc A150 (5.9425, -46.8237) -> (8.0425, -46.8237) centre (6.9925, -46.8237) ccw
  line L42 (5.9425, -46.8237) -> (1.1425, -46.8237)
  arc A151 (-0.9575, -46.8237) -> (1.1425, -46.8237) centre (0.0925, -46.8237) ccw
  circle A152 centre (-3.1292, -15.3507) radius 7.5
  circle A153 centre (-54.9427, -5.1109) radius 5
  circle A154 centre (-35.7096, -16.4799) radius 4.5
  circle A155 centre (-59.0136, -11.9976) radius 1.3
  circle A156 centre (9.7246, 14.3895) radius 1.5
  circle A157 centre (-36.335, 7.243) radius 1.3
  arc A158 (-39.4427, -46.8237) -> (-37.3427, -46.8237) centre (-38.3927, -46.8237) ccw
  line L43 (-39.4427, -46.8237) -> (-39.4427, -43.8237)
  arc A159 (-37.3427, -43.8237) -> (-39.4427, -43.8237) centre (-38.3927, -43.8237) ccw
  line L44 (-37.3427, -43.8237) -> (-32.5427, -43.8237)
  arc A160 (-30.4427, -43.8237) -> (-32.5427, -43.8237) centre (-31.4927, -43.8237) ccw
  line L45 (-30.4427, -46.8237) -> (-30.4427, -43.8237)
  arc A161 (-32.5427, -46.8237) -> (-30.4427, -46.8237) centre (-31.4927, -46.8237) ccw
  line L46 (-32.5427, -46.8237) -> (-37.3427, -46.8237)
  circle A162 centre (-56.7949, -27.3692) radius 1.3
  circle A163 centre (-28.7348, 4.7455) radius 5
  circle A164 centre (-50.9427, -32.8237) radius 5
  circle A165 centre (40.0583, -39.6814) radius 4
  circle A166 centre (23.1152, 26.3669) radius 4
  line L47 (-56.4345, 14.0862) -> (-64.7717, 13.475)
  arc A167 (-64.7717, 13.475) -> (-68.9427, 8.987) centre (-64.4427, 8.987) ccw
  line L48 (-68.9427, 8.987) -> (-68.9427, -43.8237)
  arc A168 (-68.9427, -43.8237) -> (-67.7968, -46.8237) centre (-64.4427, -43.8237) ccw
  line L49 (-67.7968, -46.8237) -> (-44.5427, -46.8237)
  arc A169 (-42.4427, -46.8237) -> (-44.5427, -46.8237) centre (-43.4927, -46.8237) ccw
  line L50 (-42.4427, -46.8237) -> (-42.4427, -49.8237)
  line L51 (-42.4427, -49.8237) -> (-27.4427, -49.8237)
  line L52 (-27.4427, -49.8237) -> (-27.4427, -46.8237)
  arc A170 (-25.3427, -46.8237) -> (-27.4427, -46.8237) centre (-26.3927, -46.8237) ccw
  line L53 (-25.3427, -46.8237) -> (-6.0575, -46.8237)
  arc A171 (-3.9575, -46.8237) -> (-6.0575, -46.8237) centre (-5.0075, -46.8237) ccw
  line L54 (-3.9575, -46.8237) -> (-3.9575, -49.8237)
  line L55 (-3.9575, -49.8237) -> (11.0425, -49.8237)
  line L56 (11.0425, -49.8237) -> (11.0425, -46.8237)
  arc A172 (13.1312, -46.6704) -> (11.0425, -46.8237) centre (12.0925, -46.8237) ccw
  line L57 (13.1312, -46.6704) -> (35.5383, -45.0264)
  arc A173 (35.5383, -45.0264) -> (46.1969, -36.3172) centre (40.0583, -39.6814) ccw
  arc A174 (51.7353, -27.8861) -> (46.1969, -36.3172) centre (68.6944, -45.0614) ccw
  arc A175 (51.7353, -27.8861) -> (45.9909, 18.6629) centre (30.9378, -6.8237) ccw
  line L58 (45.9909, 18.6629) -> (29.8762, 28.1807)
  arc A176 (29.8762, 28.1807) -> (17.1853, 30.0866) centre (23.1152, 26.3669) ccw
  line L59 (17.1853, 30.0866) -> (-36.8037, 17.139)
  arc A177 (-39.2651, 19.2261) -> (-36.8037, 17.139) centre (-37.2702, 19.0839) ccw
  arc A178 (-39.2651, 19.2261) -> (-54.7232, 16.8221) centre (-47.2698, 19.7966) ccw
  arc A179 (-56.4345, 14.0862) -> (-54.7232, 16.8221) centre (-56.5808, 16.0808) ccw
  point P0 (0, 0)
  point P1 (0, 0)
  point P2 (0, 0)
sketch "スケッチ3" plane through (0, 0, 0) normal (0, 0, 1) x (1, 0, 0)
  line L0 (-3.9575, -49.8237) -> (11.0425, -49.8237) projected
  line L1 (11.0425, -49.8237) -> (11.0425, -46.8237) projected
  arc A0 (13.1312, -46.6704) -> (11.0425, -46.8237) centre (12.0925, -46.8237) ccw projected
  line L2 (-3.9575, -46.8237) -> (-3.9575, -49.8237) projected
  arc A1 (-3.9575, -46.8237) -> (-6.0575, -46.8237) centre (-5.0075, -46.8237) ccw projected
  arc A2 (-25.3427, -46.8237) -> (-27.4427, -46.8237) centre (-26.3927, -46.8237) ccw projected
  line L3 (-27.4427, -49.8237) -> (-27.4427, -46.8237) projected
  line L4 (-42.4427, -49.8237) -> (-27.4427, -49.8237) projected
  line L5 (-42.4427, -46.8237) -> (-42.4427, -49.8237) projected
  arc A3 (-42.4427, -46.8237) -> (-44.5427, -46.8237) centre (-43.4927, -46.8237) ccw projected
  circle A4 centre (53.6032, -6.8237) radius 35.1 construction
  circle A5 centre (10.5145, -3.7237) radius 39.1 construction
  circle A6 centre (-35.3456, 2.2036) radius 5 projected
  circle A7 centre (-27.4035, 3.1639) radius 1.3 projected
  circle A8 centre (-43.2878, 1.2432) radius 1.3 projected
  circle A9 centre (-48.8152, -4.5402) radius 5 projected
  circle A10 centre (-54.3426, -10.3236) radius 1.3 projected
  circle A11 centre (-54.9427, -18.301) radius 5 projected
  circle A12 centre (-55.5427, -26.2785) radius 1.3 projected
  circle A13 centre (-50.9427, -32.8237) radius 5 projected
  circle A14 centre (-46.3426, -39.3689) radius 1.3 projected
  circle A15 centre (-32.6636, -19.9769) radius 20.55 construction
  circle A16 centre (32.39, 14.3895) radius 1.5 projected
  circle A17 centre (-32.6636, -19.9769) radius 4.5
  circle A18 centre (10.5145, -3.7237) radius 7.5
  circle A19 centre (53.6032, -6.8237) radius 4.025
  line L6 (-68.9427, 93.6608) -> (-68.9427, -144.401) projected
  line L7 (-44.5427, -46.8237) -> (-65.9427, -46.8237)
  line L8 (-25.3427, -46.8237) -> (-6.0575, -46.8237)
  circle A20 centre (-47.2698, 19.7966) radius 5.025 projected
  arc A21 (-39.3675, 21.1943) -> (-50.246, 12.3439) centre (-47.2698, 19.7966) ccw
  arc A22 (42.988, 19.8025) -> (16.6575, 35.903) centre (10.5145, -3.7237) ccw
  circle A23 centre (-35.3456, 2.2036) radius 14 construction
  line L9 (-68.9427, -2.8673) -> (-68.9427, -43.8237)
  circle A24 centre (-13.2119, 33.4498) radius 4
  arc A25 (-12.1396, 40.3671) -> (-17.6296, 38.8797) centre (-13.2119, 33.4498) ccw
  circle A26 centre (53.6032, -6.8237) radius 7.025
  circle A27 centre (59.4446, -48.5165) radius 4
  line L10 (-12.1396, 40.3671) -> (16.6575, 35.903)
  line L11 (42.988, 19.8025) -> (59.2921, -2.7022)
  arc A28 (57.8936, -55.3425) -> (66.3775, -47.5493) centre (59.4446, -48.5165) ccw
  line L12 (60.5608, -5.8531) -> (66.3775, -47.5493)
  line L13 (19.7272, -46.6704) -> (57.8936, -55.3425)
  circle A29 centre (-65.8016, -5.2211) radius 3 construction
  circle A30 centre (-48.8152, -4.5402) radius 14 construction
  circle A31 centre (-54.9427, -18.301) radius 14 construction
  circle A32 centre (33.3605, -40.8589) radius 4.5 construction
  circle A33 centre (33.3605, -40.8589) radius 1.5
  arc A34 (-68.9427, -43.8237) -> (-65.9427, -46.8237) centre (-65.9427, -43.8237) ccw
  arc A35 (-32.5427, -46.8237) -> (-30.4427, -46.8237) centre (-31.4927, -46.8237) ccw projected
  line L14 (-32.5427, -46.8237) -> (-37.3427, -46.8237) projected
  arc A36 (-39.4427, -46.8237) -> (-37.3427, -46.8237) centre (-38.3927, -46.8237) ccw projected
  line L15 (-39.4427, -46.8237) -> (-39.4427, -43.8237) projected
  arc A37 (-37.3427, -43.8237) -> (-39.4427, -43.8237) centre (-38.3927, -43.8237) ccw projected
  line L16 (-37.3427, -43.8237) -> (-32.5427, -43.8237) projected
  arc A38 (-30.4427, -43.8237) -> (-32.5427, -43.8237) centre (-31.4927, -43.8237) ccw projected
  arc A39 (5.9425, -46.8237) -> (8.0425, -46.8237) centre (6.9925, -46.8237) ccw projected
  line L17 (5.9425, -46.8237) -> (1.1425, -46.8237) projected
  arc A40 (-0.9575, -46.8237) -> (1.1425, -46.8237) centre (0.0925, -46.8237) ccw projected
  line L18 (-0.9575, -46.8237) -> (-0.9575, -43.8237) projected
  arc A41 (1.1425, -43.8237) -> (-0.9575, -43.8237) centre (0.0925, -43.8237) ccw projected
  line L19 (1.1425, -43.8237) -> (5.9425, -43.8237) projected
  arc A42 (8.0425, -43.8237) -> (5.9425, -43.8237) centre (6.9925, -43.8237) ccw projected
  line L20 (8.0425, -43.8237) -> (8.0425, -46.8237) projected
  line L21 (-30.4427, -46.8237) -> (-30.4427, -43.8237) projected
  line L22 (13.1312, -46.6704) -> (19.7272, -46.6704)
  circle A43 centre (-65.8016, -5.2211) radius 1.5
  circle A44 centre (-65.9427, -43.8237) radius 1.5
  line L23 (-17.6296, 38.8797) -> (-39.3675, 21.1943)
  line L24 (-50.246, 12.3439) -> (-68.9427, -2.8673)
  circle A45 centre (-15.7921, -38.4932) radius 1.5
  circle A46 centre (-15.7921, -38.4932) radius 4.5 construction
  circle A47 centre (-26.8994, 18.6629) radius 1.5
  circle A48 centre (-26.8994, 18.6629) radius 4.5 construction
  point P0 (0, 0)
  dimension "d49" = 9
  dimension "d50" = 15
  dimension "d51" = 8.05
  dimension "d52" = 3
  dimension "d53" = 1
  dimension "d54" = 28
  dimension "d55" = 8
  dimension "d56" = 3
  dimension "d57" = 3
  dimension "d58" = 8
  dimension "d59" = 3
  dimension "d63" = 6
  dimension "d64" = 9
  dimension "d65" = 3
  dimension "d66" = 6
  dimension "d67" = 3
  dimension "d68" = 3
  dimension "d69" = 3
  dimension "d70" = 9
  dimension "d71" = 3
  dimension "d72" = 9
extrude "押し出し1" add sketch "スケッチ3" along normal blind 3
equation "\"d7\" = d6"
equation "\"d28\" = d6"
equation "\"d29\" = d6"
properties part number "新型４アームフレーム新"
